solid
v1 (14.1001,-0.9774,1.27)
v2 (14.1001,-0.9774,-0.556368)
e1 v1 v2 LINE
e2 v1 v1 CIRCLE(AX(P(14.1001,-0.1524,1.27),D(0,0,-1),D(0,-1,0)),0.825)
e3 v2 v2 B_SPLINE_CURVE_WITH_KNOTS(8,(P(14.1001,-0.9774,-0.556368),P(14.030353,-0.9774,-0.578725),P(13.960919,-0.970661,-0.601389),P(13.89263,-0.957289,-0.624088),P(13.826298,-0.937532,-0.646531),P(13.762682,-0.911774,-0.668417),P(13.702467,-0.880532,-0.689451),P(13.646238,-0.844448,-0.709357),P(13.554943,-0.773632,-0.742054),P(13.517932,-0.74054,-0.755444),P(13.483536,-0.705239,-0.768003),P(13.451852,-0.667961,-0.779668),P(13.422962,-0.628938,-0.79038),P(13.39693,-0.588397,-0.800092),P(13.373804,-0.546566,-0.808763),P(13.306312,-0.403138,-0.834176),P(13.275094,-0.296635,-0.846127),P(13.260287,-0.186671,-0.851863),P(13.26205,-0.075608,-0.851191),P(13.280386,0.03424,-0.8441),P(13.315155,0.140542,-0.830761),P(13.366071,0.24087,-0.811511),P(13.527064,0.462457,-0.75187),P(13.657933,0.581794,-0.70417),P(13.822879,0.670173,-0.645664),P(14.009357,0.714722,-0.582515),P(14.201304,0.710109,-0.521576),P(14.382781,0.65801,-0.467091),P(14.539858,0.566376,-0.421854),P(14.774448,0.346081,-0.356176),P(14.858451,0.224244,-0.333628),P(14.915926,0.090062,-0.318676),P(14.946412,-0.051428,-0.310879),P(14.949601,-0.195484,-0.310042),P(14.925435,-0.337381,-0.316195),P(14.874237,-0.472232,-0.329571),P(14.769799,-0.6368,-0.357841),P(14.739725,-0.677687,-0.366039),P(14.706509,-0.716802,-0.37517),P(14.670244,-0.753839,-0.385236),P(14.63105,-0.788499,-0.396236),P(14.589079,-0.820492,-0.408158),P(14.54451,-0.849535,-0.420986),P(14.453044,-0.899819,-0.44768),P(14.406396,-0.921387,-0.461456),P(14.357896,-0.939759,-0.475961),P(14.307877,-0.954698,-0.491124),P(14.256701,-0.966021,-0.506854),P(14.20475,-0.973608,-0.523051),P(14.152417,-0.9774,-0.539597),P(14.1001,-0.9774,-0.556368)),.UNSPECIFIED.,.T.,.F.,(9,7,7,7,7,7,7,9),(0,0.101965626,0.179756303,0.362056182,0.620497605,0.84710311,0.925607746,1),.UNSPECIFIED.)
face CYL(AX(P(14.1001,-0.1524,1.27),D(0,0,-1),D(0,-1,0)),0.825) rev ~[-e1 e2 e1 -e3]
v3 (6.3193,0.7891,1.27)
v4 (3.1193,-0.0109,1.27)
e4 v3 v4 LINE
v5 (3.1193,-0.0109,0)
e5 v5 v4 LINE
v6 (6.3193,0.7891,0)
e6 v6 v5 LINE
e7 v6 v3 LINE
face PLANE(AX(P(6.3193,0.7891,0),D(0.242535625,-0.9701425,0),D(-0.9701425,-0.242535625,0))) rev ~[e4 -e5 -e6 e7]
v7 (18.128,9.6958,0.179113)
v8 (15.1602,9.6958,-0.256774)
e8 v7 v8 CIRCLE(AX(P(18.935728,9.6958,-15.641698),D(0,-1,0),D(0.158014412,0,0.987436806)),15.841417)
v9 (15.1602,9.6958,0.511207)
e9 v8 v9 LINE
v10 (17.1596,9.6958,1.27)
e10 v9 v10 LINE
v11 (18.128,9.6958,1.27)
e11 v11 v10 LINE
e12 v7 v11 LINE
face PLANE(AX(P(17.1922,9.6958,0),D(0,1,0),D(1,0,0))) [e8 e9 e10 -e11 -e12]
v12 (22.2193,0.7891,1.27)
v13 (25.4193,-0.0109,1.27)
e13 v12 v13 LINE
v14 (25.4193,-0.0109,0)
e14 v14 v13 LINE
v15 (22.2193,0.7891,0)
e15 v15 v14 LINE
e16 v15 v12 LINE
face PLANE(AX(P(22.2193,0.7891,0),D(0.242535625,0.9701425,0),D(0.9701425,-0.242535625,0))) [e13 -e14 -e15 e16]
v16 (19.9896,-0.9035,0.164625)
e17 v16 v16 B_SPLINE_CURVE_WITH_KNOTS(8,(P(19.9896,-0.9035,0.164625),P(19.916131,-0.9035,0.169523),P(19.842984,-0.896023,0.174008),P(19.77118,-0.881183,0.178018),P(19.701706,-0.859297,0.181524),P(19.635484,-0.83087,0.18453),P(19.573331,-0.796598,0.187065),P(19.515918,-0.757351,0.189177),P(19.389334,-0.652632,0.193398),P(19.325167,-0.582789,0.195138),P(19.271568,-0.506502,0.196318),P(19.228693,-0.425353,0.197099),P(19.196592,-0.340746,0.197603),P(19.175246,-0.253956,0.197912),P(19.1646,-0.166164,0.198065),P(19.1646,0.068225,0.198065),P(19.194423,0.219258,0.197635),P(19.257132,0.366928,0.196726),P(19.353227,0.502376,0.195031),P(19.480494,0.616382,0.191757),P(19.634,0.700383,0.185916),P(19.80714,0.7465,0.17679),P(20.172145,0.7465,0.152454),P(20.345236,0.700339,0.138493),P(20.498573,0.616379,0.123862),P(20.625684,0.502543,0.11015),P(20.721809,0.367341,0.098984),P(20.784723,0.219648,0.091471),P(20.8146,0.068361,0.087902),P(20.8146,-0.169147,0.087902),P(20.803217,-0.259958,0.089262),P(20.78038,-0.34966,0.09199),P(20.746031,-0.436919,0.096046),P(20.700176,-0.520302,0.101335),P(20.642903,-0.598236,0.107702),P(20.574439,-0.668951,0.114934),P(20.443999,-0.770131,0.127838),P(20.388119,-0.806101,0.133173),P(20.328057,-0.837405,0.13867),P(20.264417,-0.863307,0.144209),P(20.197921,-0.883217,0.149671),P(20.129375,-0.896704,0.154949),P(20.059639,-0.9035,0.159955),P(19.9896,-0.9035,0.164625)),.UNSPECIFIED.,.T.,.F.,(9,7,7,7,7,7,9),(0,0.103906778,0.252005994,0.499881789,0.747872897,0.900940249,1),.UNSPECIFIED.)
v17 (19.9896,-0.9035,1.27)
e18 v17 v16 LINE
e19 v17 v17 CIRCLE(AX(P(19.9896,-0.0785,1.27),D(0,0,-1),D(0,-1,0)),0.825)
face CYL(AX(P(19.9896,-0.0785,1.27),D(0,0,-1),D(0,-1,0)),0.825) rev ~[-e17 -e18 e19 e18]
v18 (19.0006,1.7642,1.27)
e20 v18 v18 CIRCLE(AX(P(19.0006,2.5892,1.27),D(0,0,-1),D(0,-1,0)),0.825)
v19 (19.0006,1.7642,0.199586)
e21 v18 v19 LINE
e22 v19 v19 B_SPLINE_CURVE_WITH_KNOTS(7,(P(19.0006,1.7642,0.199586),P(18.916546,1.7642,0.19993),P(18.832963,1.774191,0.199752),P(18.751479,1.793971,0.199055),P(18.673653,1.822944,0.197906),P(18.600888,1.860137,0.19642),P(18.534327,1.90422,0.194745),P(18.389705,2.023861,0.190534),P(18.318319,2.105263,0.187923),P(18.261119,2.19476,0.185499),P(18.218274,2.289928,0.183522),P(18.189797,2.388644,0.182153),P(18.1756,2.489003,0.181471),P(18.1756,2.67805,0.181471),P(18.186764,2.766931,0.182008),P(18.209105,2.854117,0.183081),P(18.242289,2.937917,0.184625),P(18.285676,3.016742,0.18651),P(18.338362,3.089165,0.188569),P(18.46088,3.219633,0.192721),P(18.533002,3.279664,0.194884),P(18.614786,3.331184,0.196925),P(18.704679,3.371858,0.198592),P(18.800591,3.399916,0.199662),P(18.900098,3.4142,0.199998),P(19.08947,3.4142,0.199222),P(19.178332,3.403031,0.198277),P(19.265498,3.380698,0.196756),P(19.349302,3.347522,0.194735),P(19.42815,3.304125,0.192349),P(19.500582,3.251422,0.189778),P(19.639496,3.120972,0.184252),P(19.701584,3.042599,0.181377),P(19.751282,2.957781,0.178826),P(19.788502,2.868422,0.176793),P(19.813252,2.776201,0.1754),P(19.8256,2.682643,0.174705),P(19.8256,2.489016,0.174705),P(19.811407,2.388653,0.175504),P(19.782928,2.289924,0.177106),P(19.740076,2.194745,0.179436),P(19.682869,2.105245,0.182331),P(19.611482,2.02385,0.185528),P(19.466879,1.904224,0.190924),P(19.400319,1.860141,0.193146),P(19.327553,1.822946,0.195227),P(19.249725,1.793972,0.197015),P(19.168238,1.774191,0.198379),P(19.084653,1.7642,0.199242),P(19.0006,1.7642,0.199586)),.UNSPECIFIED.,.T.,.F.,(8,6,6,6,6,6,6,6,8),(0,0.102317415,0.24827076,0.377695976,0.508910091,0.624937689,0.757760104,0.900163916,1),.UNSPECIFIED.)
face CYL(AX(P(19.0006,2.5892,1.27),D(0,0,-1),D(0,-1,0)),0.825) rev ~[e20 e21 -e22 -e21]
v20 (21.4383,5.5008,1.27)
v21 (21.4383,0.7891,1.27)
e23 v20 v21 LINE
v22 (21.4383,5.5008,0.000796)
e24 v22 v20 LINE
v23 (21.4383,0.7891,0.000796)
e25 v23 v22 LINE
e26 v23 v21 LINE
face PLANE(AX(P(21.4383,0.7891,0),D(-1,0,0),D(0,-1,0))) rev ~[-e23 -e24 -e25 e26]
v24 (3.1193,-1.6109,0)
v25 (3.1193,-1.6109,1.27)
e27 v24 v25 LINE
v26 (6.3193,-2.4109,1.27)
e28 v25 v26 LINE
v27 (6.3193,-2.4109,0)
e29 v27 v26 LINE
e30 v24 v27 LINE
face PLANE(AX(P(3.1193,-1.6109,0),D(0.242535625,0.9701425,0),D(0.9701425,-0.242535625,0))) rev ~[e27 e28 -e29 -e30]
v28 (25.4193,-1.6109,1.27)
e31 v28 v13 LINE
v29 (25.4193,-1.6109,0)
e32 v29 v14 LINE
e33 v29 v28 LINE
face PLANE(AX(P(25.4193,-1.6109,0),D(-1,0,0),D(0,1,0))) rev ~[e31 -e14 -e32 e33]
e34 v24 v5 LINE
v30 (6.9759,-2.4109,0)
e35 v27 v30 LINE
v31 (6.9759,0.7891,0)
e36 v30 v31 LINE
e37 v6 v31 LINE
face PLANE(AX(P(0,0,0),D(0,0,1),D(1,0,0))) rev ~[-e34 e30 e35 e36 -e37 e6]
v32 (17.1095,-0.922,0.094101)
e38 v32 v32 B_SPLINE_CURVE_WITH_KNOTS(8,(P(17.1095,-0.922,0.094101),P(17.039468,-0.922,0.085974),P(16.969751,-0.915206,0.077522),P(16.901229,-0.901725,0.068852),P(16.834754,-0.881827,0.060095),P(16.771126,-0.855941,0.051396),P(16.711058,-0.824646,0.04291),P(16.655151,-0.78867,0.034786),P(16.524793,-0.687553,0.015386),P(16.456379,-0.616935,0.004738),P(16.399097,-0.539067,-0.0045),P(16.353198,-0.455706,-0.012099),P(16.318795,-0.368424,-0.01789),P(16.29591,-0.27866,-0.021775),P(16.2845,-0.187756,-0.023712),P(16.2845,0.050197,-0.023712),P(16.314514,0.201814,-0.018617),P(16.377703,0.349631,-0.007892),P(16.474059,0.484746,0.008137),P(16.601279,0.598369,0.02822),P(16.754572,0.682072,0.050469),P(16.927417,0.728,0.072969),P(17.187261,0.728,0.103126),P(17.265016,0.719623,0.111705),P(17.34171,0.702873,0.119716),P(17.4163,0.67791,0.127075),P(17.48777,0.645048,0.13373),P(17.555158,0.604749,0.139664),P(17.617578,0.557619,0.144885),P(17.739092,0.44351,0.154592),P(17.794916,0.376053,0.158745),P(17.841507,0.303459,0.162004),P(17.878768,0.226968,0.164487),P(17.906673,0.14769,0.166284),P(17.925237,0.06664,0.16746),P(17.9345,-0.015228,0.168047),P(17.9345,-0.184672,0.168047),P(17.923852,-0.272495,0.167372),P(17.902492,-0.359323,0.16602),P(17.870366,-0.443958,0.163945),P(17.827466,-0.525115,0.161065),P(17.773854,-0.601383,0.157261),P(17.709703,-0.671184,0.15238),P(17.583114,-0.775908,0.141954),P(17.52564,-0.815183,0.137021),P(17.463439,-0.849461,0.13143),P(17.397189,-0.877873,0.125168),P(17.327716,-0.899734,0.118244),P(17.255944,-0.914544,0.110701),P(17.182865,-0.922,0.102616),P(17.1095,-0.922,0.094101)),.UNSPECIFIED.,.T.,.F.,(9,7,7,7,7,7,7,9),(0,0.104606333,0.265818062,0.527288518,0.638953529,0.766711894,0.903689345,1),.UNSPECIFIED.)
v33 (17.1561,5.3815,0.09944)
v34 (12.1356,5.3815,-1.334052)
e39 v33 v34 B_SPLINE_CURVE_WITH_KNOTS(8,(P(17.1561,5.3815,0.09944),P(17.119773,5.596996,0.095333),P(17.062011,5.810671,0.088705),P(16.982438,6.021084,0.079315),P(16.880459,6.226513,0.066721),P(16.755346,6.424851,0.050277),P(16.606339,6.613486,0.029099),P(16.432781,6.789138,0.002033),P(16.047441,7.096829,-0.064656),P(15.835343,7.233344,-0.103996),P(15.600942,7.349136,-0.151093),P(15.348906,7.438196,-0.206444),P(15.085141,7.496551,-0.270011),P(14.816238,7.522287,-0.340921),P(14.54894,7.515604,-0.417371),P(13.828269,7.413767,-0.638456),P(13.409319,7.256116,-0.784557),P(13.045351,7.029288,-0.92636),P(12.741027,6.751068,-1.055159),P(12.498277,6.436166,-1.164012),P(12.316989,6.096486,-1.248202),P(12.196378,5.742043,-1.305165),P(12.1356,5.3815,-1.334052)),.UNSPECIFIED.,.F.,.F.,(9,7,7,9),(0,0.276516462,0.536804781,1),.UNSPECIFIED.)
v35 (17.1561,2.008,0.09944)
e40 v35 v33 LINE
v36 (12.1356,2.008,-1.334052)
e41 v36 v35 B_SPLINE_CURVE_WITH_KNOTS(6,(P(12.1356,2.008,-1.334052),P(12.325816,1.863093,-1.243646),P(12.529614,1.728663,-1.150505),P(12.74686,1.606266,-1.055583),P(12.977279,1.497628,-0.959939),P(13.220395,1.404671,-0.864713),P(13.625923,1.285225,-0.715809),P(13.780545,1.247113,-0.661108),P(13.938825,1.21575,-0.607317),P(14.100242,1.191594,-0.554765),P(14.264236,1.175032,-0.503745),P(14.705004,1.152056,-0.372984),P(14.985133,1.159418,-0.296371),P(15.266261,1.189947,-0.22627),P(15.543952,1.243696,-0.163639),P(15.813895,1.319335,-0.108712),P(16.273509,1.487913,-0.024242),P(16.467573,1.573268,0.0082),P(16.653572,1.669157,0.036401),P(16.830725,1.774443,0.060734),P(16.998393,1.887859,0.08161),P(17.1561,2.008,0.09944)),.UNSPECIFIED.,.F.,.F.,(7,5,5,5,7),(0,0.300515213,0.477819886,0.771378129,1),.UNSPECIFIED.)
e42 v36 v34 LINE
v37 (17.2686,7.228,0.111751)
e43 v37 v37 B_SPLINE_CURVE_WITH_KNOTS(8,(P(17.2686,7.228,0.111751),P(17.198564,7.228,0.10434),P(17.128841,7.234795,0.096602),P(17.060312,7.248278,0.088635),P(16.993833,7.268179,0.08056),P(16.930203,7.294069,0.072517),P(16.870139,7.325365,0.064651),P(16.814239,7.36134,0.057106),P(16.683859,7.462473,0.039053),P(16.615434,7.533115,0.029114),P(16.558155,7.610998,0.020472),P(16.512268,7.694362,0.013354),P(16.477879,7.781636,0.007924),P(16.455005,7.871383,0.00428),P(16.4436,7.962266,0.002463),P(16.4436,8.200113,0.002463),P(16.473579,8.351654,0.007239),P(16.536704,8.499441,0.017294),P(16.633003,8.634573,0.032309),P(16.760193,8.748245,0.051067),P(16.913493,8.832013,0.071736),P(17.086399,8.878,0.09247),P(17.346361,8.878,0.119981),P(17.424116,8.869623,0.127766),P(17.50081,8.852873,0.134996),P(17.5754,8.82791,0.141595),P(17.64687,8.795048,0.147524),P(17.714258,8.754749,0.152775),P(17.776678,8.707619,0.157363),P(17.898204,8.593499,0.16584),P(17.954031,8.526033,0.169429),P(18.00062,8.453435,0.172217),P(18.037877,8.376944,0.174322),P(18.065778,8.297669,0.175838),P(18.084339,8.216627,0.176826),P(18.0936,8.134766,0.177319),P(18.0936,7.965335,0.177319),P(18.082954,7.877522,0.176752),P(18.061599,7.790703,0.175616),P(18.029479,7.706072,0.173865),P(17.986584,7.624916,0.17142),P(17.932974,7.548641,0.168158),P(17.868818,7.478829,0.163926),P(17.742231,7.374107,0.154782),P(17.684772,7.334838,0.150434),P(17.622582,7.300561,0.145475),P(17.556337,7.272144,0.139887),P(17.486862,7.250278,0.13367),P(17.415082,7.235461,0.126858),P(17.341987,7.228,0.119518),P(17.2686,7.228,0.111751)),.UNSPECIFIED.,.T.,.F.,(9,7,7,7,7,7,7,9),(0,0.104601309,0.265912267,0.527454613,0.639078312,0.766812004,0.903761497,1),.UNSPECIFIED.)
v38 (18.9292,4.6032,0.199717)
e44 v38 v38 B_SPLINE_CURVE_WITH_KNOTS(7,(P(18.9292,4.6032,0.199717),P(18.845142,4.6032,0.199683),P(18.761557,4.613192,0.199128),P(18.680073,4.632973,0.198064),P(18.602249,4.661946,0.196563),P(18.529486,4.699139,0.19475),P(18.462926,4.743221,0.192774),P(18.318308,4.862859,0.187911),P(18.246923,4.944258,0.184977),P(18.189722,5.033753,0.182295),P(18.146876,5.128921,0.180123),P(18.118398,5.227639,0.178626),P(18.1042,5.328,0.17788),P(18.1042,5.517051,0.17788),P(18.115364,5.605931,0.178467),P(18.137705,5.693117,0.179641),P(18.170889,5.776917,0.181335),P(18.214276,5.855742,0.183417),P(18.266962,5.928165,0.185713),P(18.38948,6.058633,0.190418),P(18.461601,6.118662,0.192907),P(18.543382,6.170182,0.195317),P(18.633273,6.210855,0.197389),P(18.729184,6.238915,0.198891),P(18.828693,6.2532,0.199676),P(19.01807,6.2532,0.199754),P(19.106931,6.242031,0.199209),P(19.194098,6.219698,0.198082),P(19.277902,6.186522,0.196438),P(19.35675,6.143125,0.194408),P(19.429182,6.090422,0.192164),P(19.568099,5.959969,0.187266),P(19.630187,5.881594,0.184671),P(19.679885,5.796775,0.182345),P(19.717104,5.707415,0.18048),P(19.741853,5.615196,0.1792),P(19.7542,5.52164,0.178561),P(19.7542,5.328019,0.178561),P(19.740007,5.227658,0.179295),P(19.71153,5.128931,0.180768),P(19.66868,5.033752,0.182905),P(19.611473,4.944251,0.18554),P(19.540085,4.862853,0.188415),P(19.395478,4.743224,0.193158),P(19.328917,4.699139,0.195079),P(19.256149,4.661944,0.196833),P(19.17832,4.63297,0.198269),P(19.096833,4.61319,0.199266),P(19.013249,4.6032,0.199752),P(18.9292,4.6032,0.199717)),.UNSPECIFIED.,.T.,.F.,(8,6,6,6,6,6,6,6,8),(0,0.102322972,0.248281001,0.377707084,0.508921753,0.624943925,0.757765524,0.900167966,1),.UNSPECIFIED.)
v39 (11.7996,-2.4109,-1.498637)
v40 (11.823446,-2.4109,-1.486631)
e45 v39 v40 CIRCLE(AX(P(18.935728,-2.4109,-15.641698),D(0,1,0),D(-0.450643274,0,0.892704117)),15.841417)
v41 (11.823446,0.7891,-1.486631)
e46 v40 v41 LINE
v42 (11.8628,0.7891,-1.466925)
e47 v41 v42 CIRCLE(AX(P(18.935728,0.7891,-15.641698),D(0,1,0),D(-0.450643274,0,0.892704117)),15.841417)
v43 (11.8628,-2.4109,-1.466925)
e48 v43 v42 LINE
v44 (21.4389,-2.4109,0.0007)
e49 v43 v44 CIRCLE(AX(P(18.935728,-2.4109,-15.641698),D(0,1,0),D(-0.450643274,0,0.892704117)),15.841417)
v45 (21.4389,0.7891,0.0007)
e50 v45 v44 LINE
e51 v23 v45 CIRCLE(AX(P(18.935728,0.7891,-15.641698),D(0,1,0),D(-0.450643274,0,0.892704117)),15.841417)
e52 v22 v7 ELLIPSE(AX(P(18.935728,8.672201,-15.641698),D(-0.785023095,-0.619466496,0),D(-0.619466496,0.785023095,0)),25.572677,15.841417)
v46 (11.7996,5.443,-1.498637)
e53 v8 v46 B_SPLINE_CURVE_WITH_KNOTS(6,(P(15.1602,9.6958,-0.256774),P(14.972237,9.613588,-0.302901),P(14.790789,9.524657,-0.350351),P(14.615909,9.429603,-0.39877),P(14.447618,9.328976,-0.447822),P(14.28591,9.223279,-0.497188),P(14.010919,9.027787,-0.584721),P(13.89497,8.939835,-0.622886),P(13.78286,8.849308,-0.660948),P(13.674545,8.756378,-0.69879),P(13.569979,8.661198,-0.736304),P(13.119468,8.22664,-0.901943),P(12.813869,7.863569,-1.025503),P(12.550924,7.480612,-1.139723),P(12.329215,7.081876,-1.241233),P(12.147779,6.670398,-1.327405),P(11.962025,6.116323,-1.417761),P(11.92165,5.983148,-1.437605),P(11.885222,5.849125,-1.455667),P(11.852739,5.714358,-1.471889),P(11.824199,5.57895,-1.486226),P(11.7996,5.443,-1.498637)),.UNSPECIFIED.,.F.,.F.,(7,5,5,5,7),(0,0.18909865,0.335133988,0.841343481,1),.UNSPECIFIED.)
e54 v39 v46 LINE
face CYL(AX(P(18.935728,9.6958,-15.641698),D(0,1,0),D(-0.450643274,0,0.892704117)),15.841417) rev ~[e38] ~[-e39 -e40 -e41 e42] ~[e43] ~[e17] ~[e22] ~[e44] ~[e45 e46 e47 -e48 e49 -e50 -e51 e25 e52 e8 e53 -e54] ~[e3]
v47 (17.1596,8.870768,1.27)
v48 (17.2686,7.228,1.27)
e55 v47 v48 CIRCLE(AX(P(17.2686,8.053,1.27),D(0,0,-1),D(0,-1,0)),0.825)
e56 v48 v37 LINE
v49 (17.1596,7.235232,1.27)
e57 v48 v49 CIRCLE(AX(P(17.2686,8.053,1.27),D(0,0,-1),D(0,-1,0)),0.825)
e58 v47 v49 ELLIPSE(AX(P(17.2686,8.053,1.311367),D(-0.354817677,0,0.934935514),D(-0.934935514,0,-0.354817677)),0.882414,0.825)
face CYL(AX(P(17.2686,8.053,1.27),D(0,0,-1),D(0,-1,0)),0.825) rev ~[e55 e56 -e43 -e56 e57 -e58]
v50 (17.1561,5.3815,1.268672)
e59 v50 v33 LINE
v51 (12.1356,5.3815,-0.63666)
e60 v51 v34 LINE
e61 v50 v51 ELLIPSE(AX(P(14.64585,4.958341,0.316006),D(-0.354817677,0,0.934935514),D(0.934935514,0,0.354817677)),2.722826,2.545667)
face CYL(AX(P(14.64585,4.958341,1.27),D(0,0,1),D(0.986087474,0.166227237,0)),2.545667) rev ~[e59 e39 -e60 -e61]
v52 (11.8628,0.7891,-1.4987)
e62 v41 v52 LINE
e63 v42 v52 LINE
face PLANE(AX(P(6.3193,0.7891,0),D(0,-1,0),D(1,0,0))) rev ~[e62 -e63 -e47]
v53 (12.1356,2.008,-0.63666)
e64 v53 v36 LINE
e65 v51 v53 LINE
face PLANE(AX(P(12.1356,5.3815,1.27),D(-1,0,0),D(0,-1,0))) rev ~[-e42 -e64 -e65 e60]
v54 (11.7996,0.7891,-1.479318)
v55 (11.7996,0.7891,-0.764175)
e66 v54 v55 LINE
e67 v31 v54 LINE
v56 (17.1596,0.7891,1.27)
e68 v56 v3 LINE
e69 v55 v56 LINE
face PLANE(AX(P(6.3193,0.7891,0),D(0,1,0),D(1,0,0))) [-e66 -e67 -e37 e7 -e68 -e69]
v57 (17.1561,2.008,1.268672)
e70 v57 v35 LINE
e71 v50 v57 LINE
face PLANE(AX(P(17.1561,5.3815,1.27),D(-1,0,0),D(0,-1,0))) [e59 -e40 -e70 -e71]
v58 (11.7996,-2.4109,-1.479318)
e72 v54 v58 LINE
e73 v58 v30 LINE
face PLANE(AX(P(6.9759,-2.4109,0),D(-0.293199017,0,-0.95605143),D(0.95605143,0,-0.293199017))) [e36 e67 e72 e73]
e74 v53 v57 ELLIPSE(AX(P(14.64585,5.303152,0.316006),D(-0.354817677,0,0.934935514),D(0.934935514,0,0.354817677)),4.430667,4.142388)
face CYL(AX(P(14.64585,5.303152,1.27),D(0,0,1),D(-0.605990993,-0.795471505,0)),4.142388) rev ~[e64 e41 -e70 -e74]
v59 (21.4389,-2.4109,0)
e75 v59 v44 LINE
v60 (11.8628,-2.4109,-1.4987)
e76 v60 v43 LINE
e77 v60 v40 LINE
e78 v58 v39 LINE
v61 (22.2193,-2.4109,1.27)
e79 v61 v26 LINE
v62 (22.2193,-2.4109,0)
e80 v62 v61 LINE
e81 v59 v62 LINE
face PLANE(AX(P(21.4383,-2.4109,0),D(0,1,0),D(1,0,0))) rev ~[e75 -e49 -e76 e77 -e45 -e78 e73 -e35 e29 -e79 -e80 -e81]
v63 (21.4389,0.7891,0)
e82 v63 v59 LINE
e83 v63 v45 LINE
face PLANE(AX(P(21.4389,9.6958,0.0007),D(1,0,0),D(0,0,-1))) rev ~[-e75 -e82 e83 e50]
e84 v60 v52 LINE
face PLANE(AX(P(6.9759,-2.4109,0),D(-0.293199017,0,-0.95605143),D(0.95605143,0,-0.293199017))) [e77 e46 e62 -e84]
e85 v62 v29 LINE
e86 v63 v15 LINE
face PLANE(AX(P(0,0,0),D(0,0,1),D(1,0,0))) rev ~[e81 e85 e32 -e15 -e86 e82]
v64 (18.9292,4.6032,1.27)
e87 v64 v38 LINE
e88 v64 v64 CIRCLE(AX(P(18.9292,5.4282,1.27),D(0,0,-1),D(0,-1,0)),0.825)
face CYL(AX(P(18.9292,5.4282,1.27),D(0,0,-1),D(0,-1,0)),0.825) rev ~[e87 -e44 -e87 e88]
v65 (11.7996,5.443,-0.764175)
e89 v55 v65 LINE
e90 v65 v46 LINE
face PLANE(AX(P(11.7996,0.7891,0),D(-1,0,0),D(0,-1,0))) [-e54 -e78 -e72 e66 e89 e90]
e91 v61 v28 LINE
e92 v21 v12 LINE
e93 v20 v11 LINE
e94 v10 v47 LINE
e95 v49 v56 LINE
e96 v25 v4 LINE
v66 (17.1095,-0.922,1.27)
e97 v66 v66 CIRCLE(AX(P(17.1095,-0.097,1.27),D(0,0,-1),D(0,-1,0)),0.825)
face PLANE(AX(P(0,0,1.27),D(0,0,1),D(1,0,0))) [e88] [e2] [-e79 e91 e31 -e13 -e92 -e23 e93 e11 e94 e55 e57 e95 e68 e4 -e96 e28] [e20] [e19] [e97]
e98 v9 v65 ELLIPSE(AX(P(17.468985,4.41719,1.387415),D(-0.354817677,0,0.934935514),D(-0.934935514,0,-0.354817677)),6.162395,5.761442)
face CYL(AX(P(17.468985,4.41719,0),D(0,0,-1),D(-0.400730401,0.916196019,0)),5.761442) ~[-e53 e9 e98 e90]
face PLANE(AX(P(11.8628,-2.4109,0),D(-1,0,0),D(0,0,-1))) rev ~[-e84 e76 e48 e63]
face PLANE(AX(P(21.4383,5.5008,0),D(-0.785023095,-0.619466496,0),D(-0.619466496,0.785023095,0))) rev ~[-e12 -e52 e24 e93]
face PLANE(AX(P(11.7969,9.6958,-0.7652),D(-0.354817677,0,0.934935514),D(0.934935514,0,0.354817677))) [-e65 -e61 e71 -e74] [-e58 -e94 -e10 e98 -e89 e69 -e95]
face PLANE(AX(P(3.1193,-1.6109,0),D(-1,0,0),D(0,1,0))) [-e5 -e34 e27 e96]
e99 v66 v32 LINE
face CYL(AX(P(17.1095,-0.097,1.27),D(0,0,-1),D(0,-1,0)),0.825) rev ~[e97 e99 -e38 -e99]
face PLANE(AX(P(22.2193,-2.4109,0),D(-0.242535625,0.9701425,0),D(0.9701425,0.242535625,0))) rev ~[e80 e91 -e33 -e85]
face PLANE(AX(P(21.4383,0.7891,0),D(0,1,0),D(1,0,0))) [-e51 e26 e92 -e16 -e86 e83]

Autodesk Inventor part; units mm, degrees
sketch "HeadplateSketch" plane through (0, 0, 0) normal (0, 0, 1) x (1, 0, 0)
  line L0 (22.2193, -2.4109) -> (25.4193, -1.6109)
  line L1 (25.4193, -1.6109) -> (25.4193, -0.0109)
  line L2 (6.3193, 0.7891) -> (3.1193, -0.0109)
  line L3 (3.1193, -1.6109) -> (3.1193, -0.0109)
  line L4 (6.3193, 0.7891) -> (22.2193, 0.7891)
  line L5 (22.2193, 0.7891) -> (25.4193, -0.0109)
  line L6 (17.1922, 9.6958) -> (17.1922, -2.4109)
  line L7 (17.1922, 9.6958) -> (18.128, 9.6958)
  line L8 (17.1922, 9.6958) -> (15.1602, 9.6958)
  line L9 (11.7996, 5.443) -> (11.7996, -2.4109)
  line L10 (21.4383, 5.5008) -> (21.4383, -2.4109)
  line L11 (21.4383, 5.5008) -> (18.128, 9.6958)
  arc A0 (15.1602, 9.6958) -> (11.7996, 5.443) centre (17.4689, 4.4173) ccw
  line L12 (3.1193, -1.6109) -> (6.3193, -2.4109)
  line L13 (6.3193, -2.4109) -> (22.2193, -2.4109)
  point P0 (11.7996, 0.7891)
  dimension "d95" = 3.2
  dimension "d102" = 1.6
  dimension "d104" = 3.2
  dimension "d106" = 0.8
  dimension "d109" = 1.6
  dimension "d110" = 3.2
  dimension "d112" = 22.3
  dimension "d113" = 15.9
extrude "拉伸1" add sketch "HeadplateSketch" along normal blind 1.27
extrude "拉伸8" add sketch "HeadplateSketch" against normal blind 1.5 contours L13 L6 L4 L10 | L4 L6 L7 L11 L10 | L13 L9 L4 L6 | L4 L9 A0 L8 L6
sketch "草图2" plane through (15.1602, 9.6958, 1.27) normal (0, 1, 0) x (1, 0, 0)
  line L0 (-3.3633, 2.0352) -> (1.9994, 0)
  arc A0 (-3.3633, 2.77) -> (6.2787, 1.2693) centre (3.7754, 16.9113) ccw
  line L1 (1.9994, 0) -> (6.2787, 0)
  line L2 (-3.3633, 2.77) -> (6.2787, 2.77)
  line L3 (2.9678, 2.77) -> (0, 2.77) projected
  line L4 (6.2787, 1.2693) -> (6.2787, 2.77)
  line L5 (-3.3633, 0) -> (1.9994, 0)
  line L6 (0, 0) -> (2.9678, 0) projected
  line L7 (2.9678, 0) -> (2.9678, 2.77) projected
  line L8 (-3.3633, 0) -> (-3.3633, 2.0352)
extrude "拉伸4" cut sketch "草图2" against normal up to next contours A0 L2 L7 | L7 L2 L4 A0
sketch "草图6" plane through (6.3193, -2.4109, 0) normal (0, -1, 0) x (1, 0, 0)
  line L0 (0, 0) -> (5.5435, 0)
  line L1 (0.6566, 0) -> (5.5435, -1.4987)
  line L2 (5.5435, 0) -> (5.5435, -1.4987)
  line L3 (0.6566, 0) -> (5.5435, 0)
  arc A0 (15.1197, 0.0007) -> (5.4803, -1.4987) centre (12.6164, -15.6413) ccw projected
  line L4 (15.1197, 0.0007) -> (15.1197, 0) projected
  line L5 (15.1197, 0) -> (15.9, 0) projected
  line L6 (15.9, 0) -> (15.9, 1.27) projected
  line L7 (15.9, 1.27) -> (0, 1.27) projected
  line L8 (0, 0) -> (0, 1.27) projected
  line L9 (0, 0) -> (5.4803, 0) projected
  line L10 (5.4803, 0) -> (5.4803, -1.4987) projected
extrude "拉伸7" add sketch "草图6" against normal up to surface (3.2 mm away) contours L0 L10 L1 | L0 L2 A0 L1 L10 | A0 L2 L1
sketch "草图3" plane through (6.3193, 0.7891, 0) normal (0, 1, 0) x (1, 0, 0)
  line L0 (0, -1.27) -> (5.4803, -1.27) projected
  line L1 (5.4803, 0) -> (5.4803, -1.27) projected
  line L2 (5.4803, 0) -> (0, 0) projected
  line L3 (0, 0) -> (0, -1.27) projected
  line L4 (5.4803, -1.27) -> (16.1538, -1.27)
  line L5 (16.1538, -1.27) -> (17.1139, -1.27)
  line L6 (17.1139, -1.27) -> (17.1139, 0.0011)
extrude "拉伸9" cut sketch "草图2" against normal up to surface (8.9067 mm away) contours L0 L5 L8
sketch "草图4" plane through (0, 0, 1.27) normal (0, 0, 1) x (1, 0, 0)
  circle A0 centre (17.2686, 8.053) radius 0.825
  circle A1 centre (18.9292, 5.4282) radius 0.825
  circle A2 centre (19.0006, 2.5892) radius 0.825
  circle A3 centre (17.1095, -0.097) radius 0.825
  line L0 (6.3193, 0.7891) -> (11.7996, 0.7891) projected
  line L1 (12.1356, 5.3815) -> (12.1356, 2.0023)
  line L2 (12.1356, 5.3815) -> (17.1561, 5.3815)
  line L3 (17.1561, 5.3815) -> (17.1561, 2.008)
  line L4 (17.1561, 2.008) -> (12.1356, 2.008)
  line L5 (11.7983, 4.0675) -> (12.1356, 4.0675)
  arc A4 (17.1561, 5.3815) -> (12.1356, 5.3815) centre (14.6459, 4.9584) ccw
  arc A5 (12.1356, 2.008) -> (17.1561, 2.008) centre (14.6459, 5.3033) ccw
  circle A6 centre (19.9896, -0.0785) radius 0.825
  circle A7 centre (14.1001, -0.1524) radius 0.825
extrude "拉伸10" cut sketch "草图4" against normal through all contours L2 L3 L4 L1 | A4 L2 | L4 A5
hole "打孔7" at (18.9292, 5.4282, 1.27) at (19.0006, 2.5892, 1.27) at (17.1095, -0.097, 1.27) at (17.2686, 8.053, 1.27) direction (0, 0, -1) diameter 1.65 end through all
hole "打孔8" at (14.1001, -0.1524, 1.27) at (19.9896, -0.0785, 1.27) direction (0, 0, -1) diameter 1.65 end through all
sketch "Sketch8" plane through (0, 0, 0) normal (0, 0, 1) x (1, 0, 0)
  arc A0 (17.1561, 5.3815) -> (12.1356, 5.3815) centre (14.6459, 4.9584) ccw projected
  arc A1 (12.1356, 2.008) -> (17.1561, 2.008) centre (14.6459, 5.3033) ccw projected
  line L0 (17.1596, 7.2353) -> (17.1596, 0.7891) projected
  line L1 (12.1356, 2.008) -> (12.1356, 5.3815) projected
  line L2 (14.6459, 7.5041) -> (14.6459, 1.1608)
  line L3 (17.1596, 4.3324) -> (12.1356, 4.3324)
  line L4 (-5.0839, 0) -> (30.5031, 0) projected
  line L5 (0, 12.1209) -> (0, -4.8328) projected
  point P0 (0, 0)
  dimension "d116" = 6.3433
  dimension "d117" = 3.1717
  dimension "d118" = 14.6459
  dimension "d119" = 4.3324
sketch "Sketch9" plane through (11.7996, 0.7891, -0.7642) normal (-0.3548, 0, 0.9349) x (0.9349, 0, 0.3548)
  ellipse E0 centre (5.8496, 7.2639) end of major axis (6.7321, 7.2639) minor radius 0.825 (5.7331, 8.0816) -> (5.7331, 6.4461) ccw projected
  line L0 (5.7331, 8.9067) -> (5.7331, 8.0816) projected
  line L1 (3.5945, 8.9067) -> (5.7331, 8.9067) projected
  ellipse E1 centre (6.0638, 3.6282) end of major axis (-0.0984, 3.6282) minor radius 5.7613 (3.5945, 8.9067) -> (0, 4.6539) ccw projected
  line L2 (0, 0) -> (0, 4.6539) projected
  line L3 (0, 0) -> (5.7331, 0) projected
  line L4 (5.7331, 6.4461) -> (5.7331, 0) projected
  line L5 (5.7293, 4.5923) -> (5.7293, 1.2188) projected
  ellipse E2 centre (3.0444, 4.5141) end of major axis (-1.3864, 4.5141) minor radius 4.1425 (0.3594, 1.2188) -> (5.7293, 1.2188) ccw projected
  line L6 (0.3594, 1.2188) -> (0.3594, 4.5923) projected
  ellipse E3 centre (3.0444, 4.1693) end of major axis (5.7672, 4.1693) minor radius 2.5457 (5.7293, 4.5923) -> (0.3594, 4.5923) ccw projected
  line L7 (5.3145, 1.2188) -> (5.3145, 4.5923) projected
  arc A0 (0.112, 1.2188) -> (5.3145, 1.2188) centre (5.3145, 1.2188) ccw projected
  arc A1 (5.3145, 4.5923) -> (0.112, 4.5923) centre (0.112, 4.5923) ccw projected
  line L8 (5.3145, 4.5923) -> (0.3594, 4.5923)
  line L9 (2.8369, 6.7075) -> (4.6638, 6.7075)
  line L10 (2.8369, 0.3762) -> (5.3145, 0.3762)
  line L11 (2.8369, 6.7075) -> (2.8369, 0.3762)
  line L12 (2.8369, 3.5419) -> (5.3145, 3.5419)
  line L13 (2.9322, 6.7149) -> (2.9322, 0.3716) projected
  point P0 (-10.7607, -0.7891)
  dimension "d121" = 0.0953
ref_plane "Work Plane3" through (11.7996, 0.7891, -0.7642) normal (-0.3548, 0, 0.9349) x (0.9349, 0, 0.3548)
ref_plane "Work Plane1" through (14.558, 0, 0) normal (1, 0, 0) x (0, 1, 0)
ref_plane "Work Plane2" through (0, 4.332, 0) normal (0, 1, 0) x (-1, 0, 0)
ref_plane "Work Plane4" through (0, 0, 0.283) normal (0, 0, 1) x (1, 0, 0)
sketch "Sketch10" plane through (0, 0, 0) normal (0, 0, 1) x (1, 0, 0)
  line L0 (3.1193, -1.6109) -> (3.1193, -0.0109) projected
  line L1 (3.1193, -0.8109) -> (0, -0.8109)
  line L2 (25.404, -0.8109) -> (34.4809, -0.8109)
  point P0 (0, 0)
  dimension "d126" = 0.8109
ref_plane "Work Plane5" through (0, -0.811, 0) normal (0, 1, 0) x (-1, 0, 0)
sketch "Sketch11" plane through (11.7996, 0.7891, -0.7642) normal (-0.3548, 0, 0.9349) x (0.9349, 0, 0.3548)
  ellipse E0 centre (5.8496, 7.2639) end of major axis (6.7321, 7.2639) minor radius 0.825 (5.7331, 8.0816) -> (5.7331, 6.4461) ccw projected
  line L0 (5.7331, 8.9067) -> (5.7331, 8.0816) projected
  line L1 (3.5945, 8.9067) -> (5.7331, 8.9067) projected
  ellipse E1 centre (6.0638, 3.6282) end of major axis (-0.0984, 3.6282) minor radius 5.7613 (3.5945, 8.9067) -> (0, 4.6539) ccw projected
  line L2 (0, 0) -> (0, 4.6539) projected
  line L3 (0, 0) -> (5.7331, 0) projected
  line L4 (5.7331, 6.4461) -> (5.7331, 0) projected
  line L5 (5.7293, 4.5923) -> (5.7293, 1.2188) projected
  ellipse E2 centre (3.0444, 4.5141) end of major axis (-1.3864, 4.5141) minor radius 4.1425 (0.3594, 1.2188) -> (5.7293, 1.2188) ccw projected
  line L6 (0.3594, 1.2188) -> (0.3594, 4.5923) projected
  ellipse E3 centre (3.0444, 4.1693) end of major axis (5.7672, 4.1693) minor radius 2.5457 (5.7293, 4.5923) -> (0.3594, 4.5923) ccw projected
  circle A0 centre (3.0444, 3.5307) radius 3.5
  point P0 (-10.7607, -0.7891)
  dimension "d128" = 7
ref_plane "Work Plane6" through (12.0474, 0.7891, -1.4172) normal (-0.3548, 0, 0.9349) x (0.9349, 0, 0.3548)
sketch "Sketch12" plane through (0, 0, 1.27) normal (0, 0, 1) x (1, 0, 0)
  circle A0 centre (17.1095, -0.097) radius 0.825 projected
  line L0 (14.541, 7.5041) -> (14.541, 1.1608) projected
  point P0 (0, 0)
  dimension "d130" = 2.5684
equation "\"d117\" = 0.5 * d116"
properties part number "MPS Headpost" material "Titanium"
